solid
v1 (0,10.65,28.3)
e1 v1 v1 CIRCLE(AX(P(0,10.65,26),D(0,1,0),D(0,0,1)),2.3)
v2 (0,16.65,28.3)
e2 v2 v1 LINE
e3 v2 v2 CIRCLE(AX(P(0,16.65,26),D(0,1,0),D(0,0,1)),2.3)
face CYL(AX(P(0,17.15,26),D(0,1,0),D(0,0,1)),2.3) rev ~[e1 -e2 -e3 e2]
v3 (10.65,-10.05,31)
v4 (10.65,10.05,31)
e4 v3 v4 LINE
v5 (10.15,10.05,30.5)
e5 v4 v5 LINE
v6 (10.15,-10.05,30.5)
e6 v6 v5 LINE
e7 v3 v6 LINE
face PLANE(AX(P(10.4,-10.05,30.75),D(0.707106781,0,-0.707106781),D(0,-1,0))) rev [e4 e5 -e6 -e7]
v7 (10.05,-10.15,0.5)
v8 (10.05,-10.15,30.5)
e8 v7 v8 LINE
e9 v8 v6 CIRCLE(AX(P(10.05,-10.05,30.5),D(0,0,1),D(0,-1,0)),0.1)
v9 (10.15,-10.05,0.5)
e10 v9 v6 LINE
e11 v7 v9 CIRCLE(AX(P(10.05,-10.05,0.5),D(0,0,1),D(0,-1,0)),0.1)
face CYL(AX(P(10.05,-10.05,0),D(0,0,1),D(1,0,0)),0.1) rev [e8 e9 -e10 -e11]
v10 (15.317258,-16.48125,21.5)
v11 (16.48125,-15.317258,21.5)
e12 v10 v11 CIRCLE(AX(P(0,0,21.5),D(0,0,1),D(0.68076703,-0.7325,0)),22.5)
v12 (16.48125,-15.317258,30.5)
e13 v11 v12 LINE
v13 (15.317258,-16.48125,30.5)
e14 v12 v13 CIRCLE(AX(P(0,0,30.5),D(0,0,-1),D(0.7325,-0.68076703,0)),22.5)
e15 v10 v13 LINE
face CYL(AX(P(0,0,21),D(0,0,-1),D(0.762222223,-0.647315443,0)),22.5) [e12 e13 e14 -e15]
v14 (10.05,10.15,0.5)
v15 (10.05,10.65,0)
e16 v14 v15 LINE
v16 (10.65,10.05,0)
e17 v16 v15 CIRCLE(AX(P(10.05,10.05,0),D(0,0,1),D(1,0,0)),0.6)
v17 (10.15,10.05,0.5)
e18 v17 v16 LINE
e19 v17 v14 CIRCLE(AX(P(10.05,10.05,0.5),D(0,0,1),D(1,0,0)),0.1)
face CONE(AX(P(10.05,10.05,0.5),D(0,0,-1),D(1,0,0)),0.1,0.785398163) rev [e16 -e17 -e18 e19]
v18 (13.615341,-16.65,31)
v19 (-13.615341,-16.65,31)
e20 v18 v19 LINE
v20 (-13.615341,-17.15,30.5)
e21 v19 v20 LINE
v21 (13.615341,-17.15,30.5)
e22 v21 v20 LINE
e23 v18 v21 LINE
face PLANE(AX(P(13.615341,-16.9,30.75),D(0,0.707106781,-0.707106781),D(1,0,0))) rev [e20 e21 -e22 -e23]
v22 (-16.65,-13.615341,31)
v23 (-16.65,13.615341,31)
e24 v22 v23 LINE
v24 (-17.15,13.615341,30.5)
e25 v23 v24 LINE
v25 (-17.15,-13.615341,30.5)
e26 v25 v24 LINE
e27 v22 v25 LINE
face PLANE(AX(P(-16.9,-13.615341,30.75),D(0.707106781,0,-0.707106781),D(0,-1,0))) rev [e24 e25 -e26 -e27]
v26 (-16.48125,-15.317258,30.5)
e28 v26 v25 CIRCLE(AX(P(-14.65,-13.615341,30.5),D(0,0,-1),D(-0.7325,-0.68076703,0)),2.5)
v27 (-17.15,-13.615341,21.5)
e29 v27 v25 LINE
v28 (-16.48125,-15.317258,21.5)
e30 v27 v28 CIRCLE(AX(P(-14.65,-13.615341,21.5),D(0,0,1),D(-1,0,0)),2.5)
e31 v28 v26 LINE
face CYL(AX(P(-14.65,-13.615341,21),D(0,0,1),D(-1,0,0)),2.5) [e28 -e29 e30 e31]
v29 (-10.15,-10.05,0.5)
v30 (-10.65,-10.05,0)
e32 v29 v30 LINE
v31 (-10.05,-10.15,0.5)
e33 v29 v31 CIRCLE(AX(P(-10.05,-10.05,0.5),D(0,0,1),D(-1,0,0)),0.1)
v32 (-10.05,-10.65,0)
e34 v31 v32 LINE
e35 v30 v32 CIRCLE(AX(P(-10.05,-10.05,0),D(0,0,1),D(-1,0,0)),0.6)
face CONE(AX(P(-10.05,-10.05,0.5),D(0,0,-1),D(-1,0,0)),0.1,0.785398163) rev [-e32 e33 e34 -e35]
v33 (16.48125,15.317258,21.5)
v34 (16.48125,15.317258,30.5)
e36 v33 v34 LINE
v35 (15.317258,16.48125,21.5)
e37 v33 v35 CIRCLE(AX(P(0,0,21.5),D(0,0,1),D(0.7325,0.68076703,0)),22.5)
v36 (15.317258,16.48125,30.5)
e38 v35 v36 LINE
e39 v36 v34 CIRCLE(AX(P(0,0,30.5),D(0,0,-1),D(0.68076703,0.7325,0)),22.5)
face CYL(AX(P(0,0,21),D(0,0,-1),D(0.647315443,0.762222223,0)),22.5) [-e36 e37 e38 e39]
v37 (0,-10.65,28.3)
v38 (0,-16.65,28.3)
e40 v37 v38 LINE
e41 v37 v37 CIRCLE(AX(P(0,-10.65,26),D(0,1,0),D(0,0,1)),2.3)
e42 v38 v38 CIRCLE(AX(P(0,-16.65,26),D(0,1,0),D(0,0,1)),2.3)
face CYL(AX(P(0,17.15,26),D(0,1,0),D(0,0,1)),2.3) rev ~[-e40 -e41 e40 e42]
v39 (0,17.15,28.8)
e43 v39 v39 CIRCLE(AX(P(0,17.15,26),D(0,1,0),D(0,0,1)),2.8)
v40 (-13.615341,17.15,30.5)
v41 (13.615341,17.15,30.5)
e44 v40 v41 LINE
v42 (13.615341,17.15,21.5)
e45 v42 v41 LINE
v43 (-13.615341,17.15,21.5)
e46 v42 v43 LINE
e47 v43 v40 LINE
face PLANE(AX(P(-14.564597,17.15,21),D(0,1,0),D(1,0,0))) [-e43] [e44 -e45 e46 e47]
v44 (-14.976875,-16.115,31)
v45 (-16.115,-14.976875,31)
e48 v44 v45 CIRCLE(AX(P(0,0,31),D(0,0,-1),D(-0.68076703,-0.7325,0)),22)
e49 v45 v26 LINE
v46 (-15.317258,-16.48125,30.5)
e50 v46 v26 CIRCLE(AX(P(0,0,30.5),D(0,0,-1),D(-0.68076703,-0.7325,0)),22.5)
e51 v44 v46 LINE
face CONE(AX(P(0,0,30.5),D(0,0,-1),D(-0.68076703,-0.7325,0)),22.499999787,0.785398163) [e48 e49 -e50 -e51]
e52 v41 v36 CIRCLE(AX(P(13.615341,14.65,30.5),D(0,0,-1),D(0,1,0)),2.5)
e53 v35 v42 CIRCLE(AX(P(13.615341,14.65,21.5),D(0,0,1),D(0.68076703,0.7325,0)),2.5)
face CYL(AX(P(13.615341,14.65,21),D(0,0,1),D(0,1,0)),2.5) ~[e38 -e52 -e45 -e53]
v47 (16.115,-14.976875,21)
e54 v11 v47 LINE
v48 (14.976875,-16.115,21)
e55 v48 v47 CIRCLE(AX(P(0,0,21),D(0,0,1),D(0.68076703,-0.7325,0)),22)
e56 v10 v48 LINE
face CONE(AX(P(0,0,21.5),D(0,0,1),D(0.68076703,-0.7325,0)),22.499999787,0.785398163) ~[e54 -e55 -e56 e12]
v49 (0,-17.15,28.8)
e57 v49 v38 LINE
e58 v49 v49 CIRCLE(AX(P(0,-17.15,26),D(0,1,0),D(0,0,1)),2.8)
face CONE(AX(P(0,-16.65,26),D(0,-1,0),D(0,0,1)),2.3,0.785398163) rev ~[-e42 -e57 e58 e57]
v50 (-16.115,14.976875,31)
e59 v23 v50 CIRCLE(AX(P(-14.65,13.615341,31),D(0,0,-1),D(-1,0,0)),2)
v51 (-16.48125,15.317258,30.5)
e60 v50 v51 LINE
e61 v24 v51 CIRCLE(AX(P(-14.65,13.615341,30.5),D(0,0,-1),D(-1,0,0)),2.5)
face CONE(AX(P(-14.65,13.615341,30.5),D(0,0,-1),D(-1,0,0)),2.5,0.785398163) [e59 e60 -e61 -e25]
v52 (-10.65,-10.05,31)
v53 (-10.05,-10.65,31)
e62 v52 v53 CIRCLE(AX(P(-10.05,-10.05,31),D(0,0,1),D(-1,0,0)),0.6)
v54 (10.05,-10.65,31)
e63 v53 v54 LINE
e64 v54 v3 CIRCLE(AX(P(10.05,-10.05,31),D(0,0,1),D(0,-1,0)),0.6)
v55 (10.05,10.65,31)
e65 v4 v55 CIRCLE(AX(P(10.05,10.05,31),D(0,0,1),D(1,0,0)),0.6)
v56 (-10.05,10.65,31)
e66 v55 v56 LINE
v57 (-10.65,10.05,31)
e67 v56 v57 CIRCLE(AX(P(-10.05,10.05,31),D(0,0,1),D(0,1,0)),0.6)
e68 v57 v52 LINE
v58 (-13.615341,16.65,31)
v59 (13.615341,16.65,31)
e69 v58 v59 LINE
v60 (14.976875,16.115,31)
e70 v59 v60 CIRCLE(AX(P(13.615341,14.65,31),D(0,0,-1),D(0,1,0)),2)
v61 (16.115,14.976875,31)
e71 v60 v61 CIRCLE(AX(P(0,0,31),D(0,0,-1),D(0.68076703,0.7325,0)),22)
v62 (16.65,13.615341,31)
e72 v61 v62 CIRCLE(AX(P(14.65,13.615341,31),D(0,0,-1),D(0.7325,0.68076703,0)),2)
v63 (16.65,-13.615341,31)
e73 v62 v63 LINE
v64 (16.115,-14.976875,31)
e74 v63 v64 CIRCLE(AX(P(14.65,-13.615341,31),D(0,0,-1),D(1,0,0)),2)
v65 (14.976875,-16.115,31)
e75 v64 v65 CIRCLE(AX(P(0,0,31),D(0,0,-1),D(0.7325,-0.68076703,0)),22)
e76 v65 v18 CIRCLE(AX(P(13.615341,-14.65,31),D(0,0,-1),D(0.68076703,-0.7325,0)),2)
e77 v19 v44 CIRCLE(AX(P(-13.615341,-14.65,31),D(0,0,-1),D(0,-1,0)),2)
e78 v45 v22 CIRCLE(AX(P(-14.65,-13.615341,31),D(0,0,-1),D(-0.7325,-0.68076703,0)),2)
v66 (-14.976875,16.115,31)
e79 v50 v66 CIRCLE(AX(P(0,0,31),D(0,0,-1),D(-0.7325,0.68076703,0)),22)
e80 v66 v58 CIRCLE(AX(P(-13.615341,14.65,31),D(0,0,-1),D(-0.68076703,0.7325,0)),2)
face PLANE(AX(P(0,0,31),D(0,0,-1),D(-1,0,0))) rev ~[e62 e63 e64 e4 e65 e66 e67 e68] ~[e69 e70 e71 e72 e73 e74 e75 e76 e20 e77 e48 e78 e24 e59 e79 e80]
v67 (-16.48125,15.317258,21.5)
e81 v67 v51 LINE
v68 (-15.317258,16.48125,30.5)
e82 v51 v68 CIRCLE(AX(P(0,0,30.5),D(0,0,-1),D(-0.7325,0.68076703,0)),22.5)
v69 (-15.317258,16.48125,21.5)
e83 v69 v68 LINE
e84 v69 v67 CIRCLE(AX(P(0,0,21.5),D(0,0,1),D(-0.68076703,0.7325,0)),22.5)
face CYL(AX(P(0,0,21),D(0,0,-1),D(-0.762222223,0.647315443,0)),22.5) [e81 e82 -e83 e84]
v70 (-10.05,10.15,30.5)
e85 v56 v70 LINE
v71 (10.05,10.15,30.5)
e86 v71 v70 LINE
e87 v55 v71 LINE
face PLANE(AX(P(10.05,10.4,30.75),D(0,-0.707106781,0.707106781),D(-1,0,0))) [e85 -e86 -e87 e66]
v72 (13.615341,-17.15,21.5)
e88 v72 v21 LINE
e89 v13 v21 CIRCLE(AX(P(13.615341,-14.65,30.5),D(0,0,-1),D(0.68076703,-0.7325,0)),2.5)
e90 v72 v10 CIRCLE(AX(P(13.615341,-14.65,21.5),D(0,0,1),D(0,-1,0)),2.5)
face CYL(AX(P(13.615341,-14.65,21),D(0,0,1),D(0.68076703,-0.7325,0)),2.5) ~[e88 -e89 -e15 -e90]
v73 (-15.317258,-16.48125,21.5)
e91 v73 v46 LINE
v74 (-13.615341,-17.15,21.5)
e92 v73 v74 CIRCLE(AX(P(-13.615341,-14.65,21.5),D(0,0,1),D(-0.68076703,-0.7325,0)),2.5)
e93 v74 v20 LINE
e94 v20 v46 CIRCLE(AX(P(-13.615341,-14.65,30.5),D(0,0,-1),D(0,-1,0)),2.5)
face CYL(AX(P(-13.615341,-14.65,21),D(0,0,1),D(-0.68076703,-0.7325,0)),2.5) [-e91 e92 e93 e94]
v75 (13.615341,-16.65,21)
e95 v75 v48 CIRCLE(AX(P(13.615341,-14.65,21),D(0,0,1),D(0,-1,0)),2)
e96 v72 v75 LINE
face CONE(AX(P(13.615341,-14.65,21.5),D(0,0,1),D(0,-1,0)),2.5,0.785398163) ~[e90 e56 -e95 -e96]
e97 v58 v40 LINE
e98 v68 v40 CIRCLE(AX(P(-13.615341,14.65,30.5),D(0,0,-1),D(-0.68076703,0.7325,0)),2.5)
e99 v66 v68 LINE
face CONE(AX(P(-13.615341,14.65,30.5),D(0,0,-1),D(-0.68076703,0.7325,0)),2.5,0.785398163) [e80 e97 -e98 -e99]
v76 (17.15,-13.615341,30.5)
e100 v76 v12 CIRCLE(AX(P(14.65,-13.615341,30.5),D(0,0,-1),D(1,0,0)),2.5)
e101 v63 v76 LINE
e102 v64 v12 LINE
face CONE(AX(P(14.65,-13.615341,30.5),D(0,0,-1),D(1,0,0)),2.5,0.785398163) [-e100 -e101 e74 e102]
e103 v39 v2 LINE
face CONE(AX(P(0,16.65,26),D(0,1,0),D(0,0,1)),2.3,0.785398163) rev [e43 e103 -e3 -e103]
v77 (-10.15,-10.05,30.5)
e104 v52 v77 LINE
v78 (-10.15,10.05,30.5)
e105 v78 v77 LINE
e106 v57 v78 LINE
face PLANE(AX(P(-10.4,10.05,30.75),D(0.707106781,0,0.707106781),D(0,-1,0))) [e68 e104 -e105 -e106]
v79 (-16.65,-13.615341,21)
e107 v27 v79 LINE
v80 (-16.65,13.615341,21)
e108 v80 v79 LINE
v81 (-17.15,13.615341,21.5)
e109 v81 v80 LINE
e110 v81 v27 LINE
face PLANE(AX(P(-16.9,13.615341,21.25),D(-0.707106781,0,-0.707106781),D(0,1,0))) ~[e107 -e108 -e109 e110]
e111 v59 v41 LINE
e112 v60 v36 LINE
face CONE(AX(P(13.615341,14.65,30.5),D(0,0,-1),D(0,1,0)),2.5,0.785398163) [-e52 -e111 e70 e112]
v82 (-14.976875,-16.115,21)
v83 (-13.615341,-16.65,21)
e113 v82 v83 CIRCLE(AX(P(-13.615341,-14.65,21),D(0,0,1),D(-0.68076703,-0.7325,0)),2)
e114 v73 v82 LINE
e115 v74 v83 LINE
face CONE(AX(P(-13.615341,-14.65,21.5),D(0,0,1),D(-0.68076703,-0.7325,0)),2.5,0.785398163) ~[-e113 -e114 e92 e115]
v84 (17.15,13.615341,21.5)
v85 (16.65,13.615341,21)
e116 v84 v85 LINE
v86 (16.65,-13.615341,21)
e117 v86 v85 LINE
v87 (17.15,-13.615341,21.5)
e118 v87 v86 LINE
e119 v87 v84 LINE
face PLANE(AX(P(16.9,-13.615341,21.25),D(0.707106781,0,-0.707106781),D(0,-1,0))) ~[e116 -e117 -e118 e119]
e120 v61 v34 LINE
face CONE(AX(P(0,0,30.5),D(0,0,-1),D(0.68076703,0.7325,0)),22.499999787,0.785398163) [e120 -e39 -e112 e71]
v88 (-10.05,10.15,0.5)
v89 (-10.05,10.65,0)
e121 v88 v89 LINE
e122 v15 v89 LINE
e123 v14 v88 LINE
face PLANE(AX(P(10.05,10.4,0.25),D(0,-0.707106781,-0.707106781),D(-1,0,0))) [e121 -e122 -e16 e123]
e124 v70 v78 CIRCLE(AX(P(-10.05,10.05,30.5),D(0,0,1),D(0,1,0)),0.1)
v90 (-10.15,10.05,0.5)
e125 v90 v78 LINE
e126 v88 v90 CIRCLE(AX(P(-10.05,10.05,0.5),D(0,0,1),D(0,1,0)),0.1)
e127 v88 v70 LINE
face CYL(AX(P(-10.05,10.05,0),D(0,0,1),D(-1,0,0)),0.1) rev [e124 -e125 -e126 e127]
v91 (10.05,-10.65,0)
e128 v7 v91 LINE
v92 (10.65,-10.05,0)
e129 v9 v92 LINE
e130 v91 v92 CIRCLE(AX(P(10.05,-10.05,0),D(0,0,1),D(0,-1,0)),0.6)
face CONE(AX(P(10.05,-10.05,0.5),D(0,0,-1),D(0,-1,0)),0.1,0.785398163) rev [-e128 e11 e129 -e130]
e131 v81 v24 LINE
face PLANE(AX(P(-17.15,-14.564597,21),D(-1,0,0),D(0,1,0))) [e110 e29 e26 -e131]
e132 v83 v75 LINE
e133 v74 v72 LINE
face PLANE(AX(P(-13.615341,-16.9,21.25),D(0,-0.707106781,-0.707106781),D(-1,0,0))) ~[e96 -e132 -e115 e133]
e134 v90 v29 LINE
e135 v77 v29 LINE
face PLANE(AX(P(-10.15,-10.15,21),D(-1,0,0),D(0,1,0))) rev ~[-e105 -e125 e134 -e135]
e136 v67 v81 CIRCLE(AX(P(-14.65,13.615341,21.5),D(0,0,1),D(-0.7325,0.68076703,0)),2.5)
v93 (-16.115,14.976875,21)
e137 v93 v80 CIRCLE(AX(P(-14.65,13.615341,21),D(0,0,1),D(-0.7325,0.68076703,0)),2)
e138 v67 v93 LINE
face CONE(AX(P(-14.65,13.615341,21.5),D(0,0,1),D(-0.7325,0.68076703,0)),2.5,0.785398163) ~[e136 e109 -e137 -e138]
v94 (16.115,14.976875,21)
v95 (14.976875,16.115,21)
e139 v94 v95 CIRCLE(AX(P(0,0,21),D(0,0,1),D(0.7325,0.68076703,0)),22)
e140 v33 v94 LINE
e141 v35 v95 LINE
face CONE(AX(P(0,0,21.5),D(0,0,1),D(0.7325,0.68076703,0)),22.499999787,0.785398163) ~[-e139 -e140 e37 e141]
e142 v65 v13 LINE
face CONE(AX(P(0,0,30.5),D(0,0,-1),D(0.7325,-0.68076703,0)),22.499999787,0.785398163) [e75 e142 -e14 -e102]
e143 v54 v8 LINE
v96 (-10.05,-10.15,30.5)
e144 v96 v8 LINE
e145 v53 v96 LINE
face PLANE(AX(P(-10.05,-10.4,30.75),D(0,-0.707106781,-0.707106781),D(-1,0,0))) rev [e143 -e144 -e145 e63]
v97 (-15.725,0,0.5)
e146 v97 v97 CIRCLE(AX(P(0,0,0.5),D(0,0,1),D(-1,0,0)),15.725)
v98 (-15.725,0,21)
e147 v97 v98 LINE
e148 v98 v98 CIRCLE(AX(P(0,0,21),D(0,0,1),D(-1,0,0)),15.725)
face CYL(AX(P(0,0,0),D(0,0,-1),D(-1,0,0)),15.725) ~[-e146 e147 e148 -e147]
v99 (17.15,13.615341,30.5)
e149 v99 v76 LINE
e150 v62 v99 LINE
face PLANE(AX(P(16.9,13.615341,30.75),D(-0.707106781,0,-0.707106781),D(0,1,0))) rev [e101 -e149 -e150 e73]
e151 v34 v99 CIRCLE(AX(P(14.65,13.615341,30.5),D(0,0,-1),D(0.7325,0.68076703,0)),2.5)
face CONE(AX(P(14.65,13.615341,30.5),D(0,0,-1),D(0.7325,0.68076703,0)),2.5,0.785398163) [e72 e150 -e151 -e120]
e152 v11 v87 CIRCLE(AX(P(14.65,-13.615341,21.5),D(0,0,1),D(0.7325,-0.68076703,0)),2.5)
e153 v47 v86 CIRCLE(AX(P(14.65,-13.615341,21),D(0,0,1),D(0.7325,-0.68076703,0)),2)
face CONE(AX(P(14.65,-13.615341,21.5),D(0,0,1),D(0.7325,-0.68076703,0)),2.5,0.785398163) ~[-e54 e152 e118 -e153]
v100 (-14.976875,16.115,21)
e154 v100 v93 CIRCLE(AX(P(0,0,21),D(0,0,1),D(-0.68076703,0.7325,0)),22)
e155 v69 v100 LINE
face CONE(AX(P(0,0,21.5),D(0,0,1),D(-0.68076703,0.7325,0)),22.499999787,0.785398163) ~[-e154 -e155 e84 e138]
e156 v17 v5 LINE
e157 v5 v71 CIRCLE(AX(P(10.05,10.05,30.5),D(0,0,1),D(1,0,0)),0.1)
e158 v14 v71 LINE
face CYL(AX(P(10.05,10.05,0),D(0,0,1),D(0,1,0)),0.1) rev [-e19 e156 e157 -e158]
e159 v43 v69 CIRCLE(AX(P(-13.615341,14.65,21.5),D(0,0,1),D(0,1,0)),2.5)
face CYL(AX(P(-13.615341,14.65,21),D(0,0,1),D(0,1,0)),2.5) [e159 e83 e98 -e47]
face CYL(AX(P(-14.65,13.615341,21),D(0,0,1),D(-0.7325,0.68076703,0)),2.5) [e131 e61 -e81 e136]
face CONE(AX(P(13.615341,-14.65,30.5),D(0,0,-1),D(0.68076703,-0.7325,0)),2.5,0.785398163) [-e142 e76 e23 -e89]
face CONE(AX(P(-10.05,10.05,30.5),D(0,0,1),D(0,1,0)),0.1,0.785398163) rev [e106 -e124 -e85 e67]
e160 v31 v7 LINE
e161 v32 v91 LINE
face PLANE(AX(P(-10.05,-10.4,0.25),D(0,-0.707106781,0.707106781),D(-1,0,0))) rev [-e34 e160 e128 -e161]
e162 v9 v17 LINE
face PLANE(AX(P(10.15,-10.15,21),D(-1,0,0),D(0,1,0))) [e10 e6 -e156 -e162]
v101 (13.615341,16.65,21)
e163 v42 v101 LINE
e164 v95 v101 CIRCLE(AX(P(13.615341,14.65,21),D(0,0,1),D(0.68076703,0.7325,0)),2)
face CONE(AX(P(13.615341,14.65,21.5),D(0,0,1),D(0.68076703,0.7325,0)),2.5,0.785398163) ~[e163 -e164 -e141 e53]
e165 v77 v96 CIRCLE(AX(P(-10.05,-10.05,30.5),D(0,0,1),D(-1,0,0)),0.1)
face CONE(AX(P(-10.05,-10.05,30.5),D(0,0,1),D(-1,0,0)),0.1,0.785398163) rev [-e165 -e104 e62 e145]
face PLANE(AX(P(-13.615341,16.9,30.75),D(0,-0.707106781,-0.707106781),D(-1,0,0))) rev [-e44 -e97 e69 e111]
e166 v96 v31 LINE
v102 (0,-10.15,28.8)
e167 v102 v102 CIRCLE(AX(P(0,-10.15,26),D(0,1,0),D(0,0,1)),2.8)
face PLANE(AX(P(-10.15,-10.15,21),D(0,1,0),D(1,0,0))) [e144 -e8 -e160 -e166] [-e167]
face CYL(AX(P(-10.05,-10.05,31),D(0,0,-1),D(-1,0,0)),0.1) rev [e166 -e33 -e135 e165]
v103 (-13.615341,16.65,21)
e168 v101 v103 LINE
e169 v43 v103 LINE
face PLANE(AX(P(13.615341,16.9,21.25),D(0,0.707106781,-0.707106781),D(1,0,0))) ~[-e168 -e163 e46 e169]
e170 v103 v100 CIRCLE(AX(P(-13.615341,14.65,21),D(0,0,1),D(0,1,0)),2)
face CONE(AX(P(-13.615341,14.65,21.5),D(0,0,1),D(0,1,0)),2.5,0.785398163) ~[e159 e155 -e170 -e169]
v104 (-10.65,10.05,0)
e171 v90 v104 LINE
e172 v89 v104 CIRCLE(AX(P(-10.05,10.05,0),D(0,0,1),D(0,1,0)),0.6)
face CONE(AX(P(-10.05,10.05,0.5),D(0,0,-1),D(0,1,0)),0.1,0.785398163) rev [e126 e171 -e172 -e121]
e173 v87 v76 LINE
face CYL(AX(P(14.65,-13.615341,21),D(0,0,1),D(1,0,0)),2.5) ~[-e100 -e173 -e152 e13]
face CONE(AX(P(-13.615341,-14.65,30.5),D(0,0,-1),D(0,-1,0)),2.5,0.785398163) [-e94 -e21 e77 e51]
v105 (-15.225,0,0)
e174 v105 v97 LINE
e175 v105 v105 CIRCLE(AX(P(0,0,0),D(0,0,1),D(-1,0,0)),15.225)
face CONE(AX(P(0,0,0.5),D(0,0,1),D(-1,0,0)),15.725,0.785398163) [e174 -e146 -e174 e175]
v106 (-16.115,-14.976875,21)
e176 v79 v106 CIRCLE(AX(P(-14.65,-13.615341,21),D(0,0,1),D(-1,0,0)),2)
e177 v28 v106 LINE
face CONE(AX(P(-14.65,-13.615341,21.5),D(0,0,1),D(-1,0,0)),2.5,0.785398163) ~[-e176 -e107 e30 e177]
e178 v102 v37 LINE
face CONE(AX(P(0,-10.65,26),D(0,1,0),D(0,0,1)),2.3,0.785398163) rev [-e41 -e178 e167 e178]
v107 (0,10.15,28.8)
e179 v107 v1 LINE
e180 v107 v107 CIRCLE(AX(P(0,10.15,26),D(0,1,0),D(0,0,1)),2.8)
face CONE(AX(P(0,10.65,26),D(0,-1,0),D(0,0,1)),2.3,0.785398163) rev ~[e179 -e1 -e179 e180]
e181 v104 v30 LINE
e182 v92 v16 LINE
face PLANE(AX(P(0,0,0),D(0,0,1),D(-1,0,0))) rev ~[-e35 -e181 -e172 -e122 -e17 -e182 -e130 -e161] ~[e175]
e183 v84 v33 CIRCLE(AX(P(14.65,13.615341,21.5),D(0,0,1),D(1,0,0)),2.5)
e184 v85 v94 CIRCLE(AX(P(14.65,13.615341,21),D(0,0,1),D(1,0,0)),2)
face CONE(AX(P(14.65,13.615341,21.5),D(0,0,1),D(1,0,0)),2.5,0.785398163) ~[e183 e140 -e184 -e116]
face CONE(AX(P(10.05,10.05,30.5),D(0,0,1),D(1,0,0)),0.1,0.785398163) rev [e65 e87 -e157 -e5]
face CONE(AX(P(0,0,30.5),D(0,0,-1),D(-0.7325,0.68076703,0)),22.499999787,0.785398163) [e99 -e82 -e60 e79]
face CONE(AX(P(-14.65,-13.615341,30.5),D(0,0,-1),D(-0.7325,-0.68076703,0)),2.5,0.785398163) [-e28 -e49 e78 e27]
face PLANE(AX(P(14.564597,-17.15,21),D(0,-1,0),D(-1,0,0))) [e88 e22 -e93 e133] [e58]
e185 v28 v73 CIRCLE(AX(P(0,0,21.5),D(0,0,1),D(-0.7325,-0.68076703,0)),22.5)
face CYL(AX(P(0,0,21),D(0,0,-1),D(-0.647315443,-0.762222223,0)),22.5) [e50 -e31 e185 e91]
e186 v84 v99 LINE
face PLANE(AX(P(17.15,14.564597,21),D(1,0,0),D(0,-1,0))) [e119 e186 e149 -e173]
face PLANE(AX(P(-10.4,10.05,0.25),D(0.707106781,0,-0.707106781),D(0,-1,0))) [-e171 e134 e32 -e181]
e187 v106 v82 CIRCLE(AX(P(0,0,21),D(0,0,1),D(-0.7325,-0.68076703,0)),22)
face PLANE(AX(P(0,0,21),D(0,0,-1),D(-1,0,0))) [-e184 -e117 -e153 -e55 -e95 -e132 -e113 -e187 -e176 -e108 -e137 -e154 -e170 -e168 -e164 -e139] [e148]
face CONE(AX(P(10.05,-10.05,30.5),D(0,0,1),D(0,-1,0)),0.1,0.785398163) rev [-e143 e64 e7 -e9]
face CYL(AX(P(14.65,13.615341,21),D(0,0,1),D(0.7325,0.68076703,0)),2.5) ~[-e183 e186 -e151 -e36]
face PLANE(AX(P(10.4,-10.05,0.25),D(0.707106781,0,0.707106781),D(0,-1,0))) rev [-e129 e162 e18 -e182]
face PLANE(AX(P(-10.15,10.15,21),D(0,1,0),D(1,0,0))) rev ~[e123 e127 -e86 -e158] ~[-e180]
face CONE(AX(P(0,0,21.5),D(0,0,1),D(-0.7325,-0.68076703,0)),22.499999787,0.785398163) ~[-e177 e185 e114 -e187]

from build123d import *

# Parameters (mm, degrees)
SKIZZE1_R                       = 15.725
SKIZZE1_W                       = 20.3
SKIZZE1_H                       = 20.3
AUFSATZ_LINEAR_AUSTRAGEN1_DEPTH = 21
SKIZZE2_W                       = 20.3
SKIZZE2_H                       = 20.3
AUFSATZ_LINEAR_AUSTRAGEN2_DEPTH = 10
SKIZZE3_R                       = 2.3
SCHNITT_LINEAR_AUSTRAGEN1_DEPTH = 50.311383067
VERRUNDUNG1_R                   = 0.1
VERRUNDUNG2_R                   = 2.5
FASE1_SIZE                      = 0.5
FASE4_SIZE                      = 0.5


with BuildPart() as part:
    # Skizze1 → Aufsatz-Linear austragen1 (new body)
    with BuildSketch(Plane.XY):
        with Locations(Location((0, 0, 0), (0, 0, 180))):
            Circle(SKIZZE1_R)
        Rectangle(SKIZZE1_W, SKIZZE1_H, mode=Mode.SUBTRACT)
    extrude(amount=AUFSATZ_LINEAR_AUSTRAGEN1_DEPTH)

    # Skizze2 → Aufsatz-Linear austragen2 (add)
    with BuildSketch(Plane.XY.offset(21)):
        with BuildLine():
            Line((-14.564597488, 17.15), (14.564597488, 17.15))
            ThreePointArc((14.564597488, 17.15), (15.909902577, 15.909902577), (17.15, 14.564597488))
            Line((17.15, 14.564597488), (17.15, -14.564597488))
            ThreePointArc((17.15, -14.564597488), (15.909902577, -15.909902577), (14.564597488, -17.15))
            Line((14.564597488, -17.15), (-14.564597488, -17.15))
            ThreePointArc((-14.564597488, -17.15), (-15.909902577, -15.909902577), (-17.15, -14.564597488))
            Line((-17.15, -14.564597488), (-17.15, 14.564597488))
            ThreePointArc((-17.15, 14.564597488), (-15.909902577, 15.909902577), (-14.564597488, 17.15))
        make_face()
        Rectangle(SKIZZE2_W, SKIZZE2_H, mode=Mode.SUBTRACT)
    extrude(amount=AUFSATZ_LINEAR_AUSTRAGEN2_DEPTH)

    # Skizze3 → Schnitt-Linear austragen1 (cut, through all)
    with BuildSketch(Plane(origin=(0, 17.15, 0), x_dir=(1, 0, 0), z_dir=(0, 1, 0))):
        with Locations(Location((0, -26, 0), (0, 0, 270))):
            Circle(SKIZZE3_R)
    extrude(amount=-SCHNITT_LINEAR_AUSTRAGEN1_DEPTH, mode=Mode.SUBTRACT)

    # Verrundung1
    verrundung1_edges = [part.edges().sort_by_distance(p)[0] for p in [
        (10.15, -10.15, 15.5),
        (10.15, 10.15, 15.5),
        (-10.15, 10.15, 15.5),
        (-10.15, -10.15, 15.5),
    ]]
    fillet(verrundung1_edges, radius=VERRUNDUNG1_R)

    # Verrundung2
    verrundung2_edges = [part.edges().sort_by_distance(p)[0] for p in [
        (-14.564597488, 17.15, 26),
        (-17.15, 14.564597488, 26),
        (-17.15, -14.564597488, 26),
        (-14.564597488, -17.15, 26),
        (14.564597488, -17.15, 26),
        (17.15, -14.564597488, 26),
        (17.15, 14.564597488, 26),
        (14.564597488, 17.15, 26),
    ]]
    fillet(verrundung2_edges, radius=VERRUNDUNG2_R)

    # Fase1
    fase1_edges = [part.edges().sort_by_distance(p)[0] for p in [
        (-17.15, 0, 31),
        (-15.909902577, 15.909902577, 31),
        (0, -17.15, 31),
        (15.909902577, -15.909902577, 31),
        (17.15, 0, 31),
        (15.909902577, 15.909902577, 31),
        (0, 17.15, 31),
        (-14.52963679, 16.976813809, 31),
        (-16.976813809, 14.52963679, 31),
        (14.52963679, 16.976813809, 31),
        (16.976813809, 14.52963679, 31),
        (16.976813809, -14.52963679, 31),
        (14.52963679, -16.976813809, 31),
        (-14.52963679, -16.976813809, 31),
        (-16.976813809, -14.52963679, 31),
        (15.725, 0, 0),
        (0, -10.15, 23.7),
        (0, 10.15, 23.7),
        (0, -17.15, 23.7),
        (0, 17.15, 23.7),
        (0, -10.15, 0),
        (0, -10.15, 31),
        (10.15, 0, 0),
        (10.15, 0, 31),
        (-10.15, 0, 0),
        (-10.15, 0, 31),
        (0, 10.15, 0),
        (0, 10.15, 31),
        (10.120710678, -10.120710678, 0),
        (10.120710678, -10.120710678, 31),
        (-10.120710678, -10.120710678, 0),
        (-10.120710678, -10.120710678, 31),
        (-10.120710678, 10.120710678, 0),
        (-10.120710678, 10.120710678, 31),
        (10.120710678, 10.120710678, 0),
        (10.120710678, 10.120710678, 31),
        (-15.909902577, -15.909902577, 31),
    ]]
    chamfer(fase1_edges, length=FASE1_SIZE)

    # Fase4
    fase4_edges = [part.edges().sort_by_distance(p)[0] for p in [
        (-16.976813809, -14.52963679, 21),
        (-15.909902577, -15.909902577, 21),
        (-15.909902577, 15.909902577, 21),
        (0, 17.15, 21),
        (15.909902577, 15.909902577, 21),
        (17.15, 0, 21),
        (15.909902577, -15.909902577, 21),
        (0, -17.15, 21),
        (-17.15, 0, 21),
        (-14.52963679, 16.976813809, 21),
        (-16.976813809, 14.52963679, 21),
        (14.52963679, 16.976813809, 21),
        (16.976813809, 14.52963679, 21),
        (16.976813809, -14.52963679, 21),
        (14.52963679, -16.976813809, 21),
        (-14.52963679, -16.976813809, 21),
    ]]
    chamfer(fase4_edges, length=FASE4_SIZE)


solid = part.part
